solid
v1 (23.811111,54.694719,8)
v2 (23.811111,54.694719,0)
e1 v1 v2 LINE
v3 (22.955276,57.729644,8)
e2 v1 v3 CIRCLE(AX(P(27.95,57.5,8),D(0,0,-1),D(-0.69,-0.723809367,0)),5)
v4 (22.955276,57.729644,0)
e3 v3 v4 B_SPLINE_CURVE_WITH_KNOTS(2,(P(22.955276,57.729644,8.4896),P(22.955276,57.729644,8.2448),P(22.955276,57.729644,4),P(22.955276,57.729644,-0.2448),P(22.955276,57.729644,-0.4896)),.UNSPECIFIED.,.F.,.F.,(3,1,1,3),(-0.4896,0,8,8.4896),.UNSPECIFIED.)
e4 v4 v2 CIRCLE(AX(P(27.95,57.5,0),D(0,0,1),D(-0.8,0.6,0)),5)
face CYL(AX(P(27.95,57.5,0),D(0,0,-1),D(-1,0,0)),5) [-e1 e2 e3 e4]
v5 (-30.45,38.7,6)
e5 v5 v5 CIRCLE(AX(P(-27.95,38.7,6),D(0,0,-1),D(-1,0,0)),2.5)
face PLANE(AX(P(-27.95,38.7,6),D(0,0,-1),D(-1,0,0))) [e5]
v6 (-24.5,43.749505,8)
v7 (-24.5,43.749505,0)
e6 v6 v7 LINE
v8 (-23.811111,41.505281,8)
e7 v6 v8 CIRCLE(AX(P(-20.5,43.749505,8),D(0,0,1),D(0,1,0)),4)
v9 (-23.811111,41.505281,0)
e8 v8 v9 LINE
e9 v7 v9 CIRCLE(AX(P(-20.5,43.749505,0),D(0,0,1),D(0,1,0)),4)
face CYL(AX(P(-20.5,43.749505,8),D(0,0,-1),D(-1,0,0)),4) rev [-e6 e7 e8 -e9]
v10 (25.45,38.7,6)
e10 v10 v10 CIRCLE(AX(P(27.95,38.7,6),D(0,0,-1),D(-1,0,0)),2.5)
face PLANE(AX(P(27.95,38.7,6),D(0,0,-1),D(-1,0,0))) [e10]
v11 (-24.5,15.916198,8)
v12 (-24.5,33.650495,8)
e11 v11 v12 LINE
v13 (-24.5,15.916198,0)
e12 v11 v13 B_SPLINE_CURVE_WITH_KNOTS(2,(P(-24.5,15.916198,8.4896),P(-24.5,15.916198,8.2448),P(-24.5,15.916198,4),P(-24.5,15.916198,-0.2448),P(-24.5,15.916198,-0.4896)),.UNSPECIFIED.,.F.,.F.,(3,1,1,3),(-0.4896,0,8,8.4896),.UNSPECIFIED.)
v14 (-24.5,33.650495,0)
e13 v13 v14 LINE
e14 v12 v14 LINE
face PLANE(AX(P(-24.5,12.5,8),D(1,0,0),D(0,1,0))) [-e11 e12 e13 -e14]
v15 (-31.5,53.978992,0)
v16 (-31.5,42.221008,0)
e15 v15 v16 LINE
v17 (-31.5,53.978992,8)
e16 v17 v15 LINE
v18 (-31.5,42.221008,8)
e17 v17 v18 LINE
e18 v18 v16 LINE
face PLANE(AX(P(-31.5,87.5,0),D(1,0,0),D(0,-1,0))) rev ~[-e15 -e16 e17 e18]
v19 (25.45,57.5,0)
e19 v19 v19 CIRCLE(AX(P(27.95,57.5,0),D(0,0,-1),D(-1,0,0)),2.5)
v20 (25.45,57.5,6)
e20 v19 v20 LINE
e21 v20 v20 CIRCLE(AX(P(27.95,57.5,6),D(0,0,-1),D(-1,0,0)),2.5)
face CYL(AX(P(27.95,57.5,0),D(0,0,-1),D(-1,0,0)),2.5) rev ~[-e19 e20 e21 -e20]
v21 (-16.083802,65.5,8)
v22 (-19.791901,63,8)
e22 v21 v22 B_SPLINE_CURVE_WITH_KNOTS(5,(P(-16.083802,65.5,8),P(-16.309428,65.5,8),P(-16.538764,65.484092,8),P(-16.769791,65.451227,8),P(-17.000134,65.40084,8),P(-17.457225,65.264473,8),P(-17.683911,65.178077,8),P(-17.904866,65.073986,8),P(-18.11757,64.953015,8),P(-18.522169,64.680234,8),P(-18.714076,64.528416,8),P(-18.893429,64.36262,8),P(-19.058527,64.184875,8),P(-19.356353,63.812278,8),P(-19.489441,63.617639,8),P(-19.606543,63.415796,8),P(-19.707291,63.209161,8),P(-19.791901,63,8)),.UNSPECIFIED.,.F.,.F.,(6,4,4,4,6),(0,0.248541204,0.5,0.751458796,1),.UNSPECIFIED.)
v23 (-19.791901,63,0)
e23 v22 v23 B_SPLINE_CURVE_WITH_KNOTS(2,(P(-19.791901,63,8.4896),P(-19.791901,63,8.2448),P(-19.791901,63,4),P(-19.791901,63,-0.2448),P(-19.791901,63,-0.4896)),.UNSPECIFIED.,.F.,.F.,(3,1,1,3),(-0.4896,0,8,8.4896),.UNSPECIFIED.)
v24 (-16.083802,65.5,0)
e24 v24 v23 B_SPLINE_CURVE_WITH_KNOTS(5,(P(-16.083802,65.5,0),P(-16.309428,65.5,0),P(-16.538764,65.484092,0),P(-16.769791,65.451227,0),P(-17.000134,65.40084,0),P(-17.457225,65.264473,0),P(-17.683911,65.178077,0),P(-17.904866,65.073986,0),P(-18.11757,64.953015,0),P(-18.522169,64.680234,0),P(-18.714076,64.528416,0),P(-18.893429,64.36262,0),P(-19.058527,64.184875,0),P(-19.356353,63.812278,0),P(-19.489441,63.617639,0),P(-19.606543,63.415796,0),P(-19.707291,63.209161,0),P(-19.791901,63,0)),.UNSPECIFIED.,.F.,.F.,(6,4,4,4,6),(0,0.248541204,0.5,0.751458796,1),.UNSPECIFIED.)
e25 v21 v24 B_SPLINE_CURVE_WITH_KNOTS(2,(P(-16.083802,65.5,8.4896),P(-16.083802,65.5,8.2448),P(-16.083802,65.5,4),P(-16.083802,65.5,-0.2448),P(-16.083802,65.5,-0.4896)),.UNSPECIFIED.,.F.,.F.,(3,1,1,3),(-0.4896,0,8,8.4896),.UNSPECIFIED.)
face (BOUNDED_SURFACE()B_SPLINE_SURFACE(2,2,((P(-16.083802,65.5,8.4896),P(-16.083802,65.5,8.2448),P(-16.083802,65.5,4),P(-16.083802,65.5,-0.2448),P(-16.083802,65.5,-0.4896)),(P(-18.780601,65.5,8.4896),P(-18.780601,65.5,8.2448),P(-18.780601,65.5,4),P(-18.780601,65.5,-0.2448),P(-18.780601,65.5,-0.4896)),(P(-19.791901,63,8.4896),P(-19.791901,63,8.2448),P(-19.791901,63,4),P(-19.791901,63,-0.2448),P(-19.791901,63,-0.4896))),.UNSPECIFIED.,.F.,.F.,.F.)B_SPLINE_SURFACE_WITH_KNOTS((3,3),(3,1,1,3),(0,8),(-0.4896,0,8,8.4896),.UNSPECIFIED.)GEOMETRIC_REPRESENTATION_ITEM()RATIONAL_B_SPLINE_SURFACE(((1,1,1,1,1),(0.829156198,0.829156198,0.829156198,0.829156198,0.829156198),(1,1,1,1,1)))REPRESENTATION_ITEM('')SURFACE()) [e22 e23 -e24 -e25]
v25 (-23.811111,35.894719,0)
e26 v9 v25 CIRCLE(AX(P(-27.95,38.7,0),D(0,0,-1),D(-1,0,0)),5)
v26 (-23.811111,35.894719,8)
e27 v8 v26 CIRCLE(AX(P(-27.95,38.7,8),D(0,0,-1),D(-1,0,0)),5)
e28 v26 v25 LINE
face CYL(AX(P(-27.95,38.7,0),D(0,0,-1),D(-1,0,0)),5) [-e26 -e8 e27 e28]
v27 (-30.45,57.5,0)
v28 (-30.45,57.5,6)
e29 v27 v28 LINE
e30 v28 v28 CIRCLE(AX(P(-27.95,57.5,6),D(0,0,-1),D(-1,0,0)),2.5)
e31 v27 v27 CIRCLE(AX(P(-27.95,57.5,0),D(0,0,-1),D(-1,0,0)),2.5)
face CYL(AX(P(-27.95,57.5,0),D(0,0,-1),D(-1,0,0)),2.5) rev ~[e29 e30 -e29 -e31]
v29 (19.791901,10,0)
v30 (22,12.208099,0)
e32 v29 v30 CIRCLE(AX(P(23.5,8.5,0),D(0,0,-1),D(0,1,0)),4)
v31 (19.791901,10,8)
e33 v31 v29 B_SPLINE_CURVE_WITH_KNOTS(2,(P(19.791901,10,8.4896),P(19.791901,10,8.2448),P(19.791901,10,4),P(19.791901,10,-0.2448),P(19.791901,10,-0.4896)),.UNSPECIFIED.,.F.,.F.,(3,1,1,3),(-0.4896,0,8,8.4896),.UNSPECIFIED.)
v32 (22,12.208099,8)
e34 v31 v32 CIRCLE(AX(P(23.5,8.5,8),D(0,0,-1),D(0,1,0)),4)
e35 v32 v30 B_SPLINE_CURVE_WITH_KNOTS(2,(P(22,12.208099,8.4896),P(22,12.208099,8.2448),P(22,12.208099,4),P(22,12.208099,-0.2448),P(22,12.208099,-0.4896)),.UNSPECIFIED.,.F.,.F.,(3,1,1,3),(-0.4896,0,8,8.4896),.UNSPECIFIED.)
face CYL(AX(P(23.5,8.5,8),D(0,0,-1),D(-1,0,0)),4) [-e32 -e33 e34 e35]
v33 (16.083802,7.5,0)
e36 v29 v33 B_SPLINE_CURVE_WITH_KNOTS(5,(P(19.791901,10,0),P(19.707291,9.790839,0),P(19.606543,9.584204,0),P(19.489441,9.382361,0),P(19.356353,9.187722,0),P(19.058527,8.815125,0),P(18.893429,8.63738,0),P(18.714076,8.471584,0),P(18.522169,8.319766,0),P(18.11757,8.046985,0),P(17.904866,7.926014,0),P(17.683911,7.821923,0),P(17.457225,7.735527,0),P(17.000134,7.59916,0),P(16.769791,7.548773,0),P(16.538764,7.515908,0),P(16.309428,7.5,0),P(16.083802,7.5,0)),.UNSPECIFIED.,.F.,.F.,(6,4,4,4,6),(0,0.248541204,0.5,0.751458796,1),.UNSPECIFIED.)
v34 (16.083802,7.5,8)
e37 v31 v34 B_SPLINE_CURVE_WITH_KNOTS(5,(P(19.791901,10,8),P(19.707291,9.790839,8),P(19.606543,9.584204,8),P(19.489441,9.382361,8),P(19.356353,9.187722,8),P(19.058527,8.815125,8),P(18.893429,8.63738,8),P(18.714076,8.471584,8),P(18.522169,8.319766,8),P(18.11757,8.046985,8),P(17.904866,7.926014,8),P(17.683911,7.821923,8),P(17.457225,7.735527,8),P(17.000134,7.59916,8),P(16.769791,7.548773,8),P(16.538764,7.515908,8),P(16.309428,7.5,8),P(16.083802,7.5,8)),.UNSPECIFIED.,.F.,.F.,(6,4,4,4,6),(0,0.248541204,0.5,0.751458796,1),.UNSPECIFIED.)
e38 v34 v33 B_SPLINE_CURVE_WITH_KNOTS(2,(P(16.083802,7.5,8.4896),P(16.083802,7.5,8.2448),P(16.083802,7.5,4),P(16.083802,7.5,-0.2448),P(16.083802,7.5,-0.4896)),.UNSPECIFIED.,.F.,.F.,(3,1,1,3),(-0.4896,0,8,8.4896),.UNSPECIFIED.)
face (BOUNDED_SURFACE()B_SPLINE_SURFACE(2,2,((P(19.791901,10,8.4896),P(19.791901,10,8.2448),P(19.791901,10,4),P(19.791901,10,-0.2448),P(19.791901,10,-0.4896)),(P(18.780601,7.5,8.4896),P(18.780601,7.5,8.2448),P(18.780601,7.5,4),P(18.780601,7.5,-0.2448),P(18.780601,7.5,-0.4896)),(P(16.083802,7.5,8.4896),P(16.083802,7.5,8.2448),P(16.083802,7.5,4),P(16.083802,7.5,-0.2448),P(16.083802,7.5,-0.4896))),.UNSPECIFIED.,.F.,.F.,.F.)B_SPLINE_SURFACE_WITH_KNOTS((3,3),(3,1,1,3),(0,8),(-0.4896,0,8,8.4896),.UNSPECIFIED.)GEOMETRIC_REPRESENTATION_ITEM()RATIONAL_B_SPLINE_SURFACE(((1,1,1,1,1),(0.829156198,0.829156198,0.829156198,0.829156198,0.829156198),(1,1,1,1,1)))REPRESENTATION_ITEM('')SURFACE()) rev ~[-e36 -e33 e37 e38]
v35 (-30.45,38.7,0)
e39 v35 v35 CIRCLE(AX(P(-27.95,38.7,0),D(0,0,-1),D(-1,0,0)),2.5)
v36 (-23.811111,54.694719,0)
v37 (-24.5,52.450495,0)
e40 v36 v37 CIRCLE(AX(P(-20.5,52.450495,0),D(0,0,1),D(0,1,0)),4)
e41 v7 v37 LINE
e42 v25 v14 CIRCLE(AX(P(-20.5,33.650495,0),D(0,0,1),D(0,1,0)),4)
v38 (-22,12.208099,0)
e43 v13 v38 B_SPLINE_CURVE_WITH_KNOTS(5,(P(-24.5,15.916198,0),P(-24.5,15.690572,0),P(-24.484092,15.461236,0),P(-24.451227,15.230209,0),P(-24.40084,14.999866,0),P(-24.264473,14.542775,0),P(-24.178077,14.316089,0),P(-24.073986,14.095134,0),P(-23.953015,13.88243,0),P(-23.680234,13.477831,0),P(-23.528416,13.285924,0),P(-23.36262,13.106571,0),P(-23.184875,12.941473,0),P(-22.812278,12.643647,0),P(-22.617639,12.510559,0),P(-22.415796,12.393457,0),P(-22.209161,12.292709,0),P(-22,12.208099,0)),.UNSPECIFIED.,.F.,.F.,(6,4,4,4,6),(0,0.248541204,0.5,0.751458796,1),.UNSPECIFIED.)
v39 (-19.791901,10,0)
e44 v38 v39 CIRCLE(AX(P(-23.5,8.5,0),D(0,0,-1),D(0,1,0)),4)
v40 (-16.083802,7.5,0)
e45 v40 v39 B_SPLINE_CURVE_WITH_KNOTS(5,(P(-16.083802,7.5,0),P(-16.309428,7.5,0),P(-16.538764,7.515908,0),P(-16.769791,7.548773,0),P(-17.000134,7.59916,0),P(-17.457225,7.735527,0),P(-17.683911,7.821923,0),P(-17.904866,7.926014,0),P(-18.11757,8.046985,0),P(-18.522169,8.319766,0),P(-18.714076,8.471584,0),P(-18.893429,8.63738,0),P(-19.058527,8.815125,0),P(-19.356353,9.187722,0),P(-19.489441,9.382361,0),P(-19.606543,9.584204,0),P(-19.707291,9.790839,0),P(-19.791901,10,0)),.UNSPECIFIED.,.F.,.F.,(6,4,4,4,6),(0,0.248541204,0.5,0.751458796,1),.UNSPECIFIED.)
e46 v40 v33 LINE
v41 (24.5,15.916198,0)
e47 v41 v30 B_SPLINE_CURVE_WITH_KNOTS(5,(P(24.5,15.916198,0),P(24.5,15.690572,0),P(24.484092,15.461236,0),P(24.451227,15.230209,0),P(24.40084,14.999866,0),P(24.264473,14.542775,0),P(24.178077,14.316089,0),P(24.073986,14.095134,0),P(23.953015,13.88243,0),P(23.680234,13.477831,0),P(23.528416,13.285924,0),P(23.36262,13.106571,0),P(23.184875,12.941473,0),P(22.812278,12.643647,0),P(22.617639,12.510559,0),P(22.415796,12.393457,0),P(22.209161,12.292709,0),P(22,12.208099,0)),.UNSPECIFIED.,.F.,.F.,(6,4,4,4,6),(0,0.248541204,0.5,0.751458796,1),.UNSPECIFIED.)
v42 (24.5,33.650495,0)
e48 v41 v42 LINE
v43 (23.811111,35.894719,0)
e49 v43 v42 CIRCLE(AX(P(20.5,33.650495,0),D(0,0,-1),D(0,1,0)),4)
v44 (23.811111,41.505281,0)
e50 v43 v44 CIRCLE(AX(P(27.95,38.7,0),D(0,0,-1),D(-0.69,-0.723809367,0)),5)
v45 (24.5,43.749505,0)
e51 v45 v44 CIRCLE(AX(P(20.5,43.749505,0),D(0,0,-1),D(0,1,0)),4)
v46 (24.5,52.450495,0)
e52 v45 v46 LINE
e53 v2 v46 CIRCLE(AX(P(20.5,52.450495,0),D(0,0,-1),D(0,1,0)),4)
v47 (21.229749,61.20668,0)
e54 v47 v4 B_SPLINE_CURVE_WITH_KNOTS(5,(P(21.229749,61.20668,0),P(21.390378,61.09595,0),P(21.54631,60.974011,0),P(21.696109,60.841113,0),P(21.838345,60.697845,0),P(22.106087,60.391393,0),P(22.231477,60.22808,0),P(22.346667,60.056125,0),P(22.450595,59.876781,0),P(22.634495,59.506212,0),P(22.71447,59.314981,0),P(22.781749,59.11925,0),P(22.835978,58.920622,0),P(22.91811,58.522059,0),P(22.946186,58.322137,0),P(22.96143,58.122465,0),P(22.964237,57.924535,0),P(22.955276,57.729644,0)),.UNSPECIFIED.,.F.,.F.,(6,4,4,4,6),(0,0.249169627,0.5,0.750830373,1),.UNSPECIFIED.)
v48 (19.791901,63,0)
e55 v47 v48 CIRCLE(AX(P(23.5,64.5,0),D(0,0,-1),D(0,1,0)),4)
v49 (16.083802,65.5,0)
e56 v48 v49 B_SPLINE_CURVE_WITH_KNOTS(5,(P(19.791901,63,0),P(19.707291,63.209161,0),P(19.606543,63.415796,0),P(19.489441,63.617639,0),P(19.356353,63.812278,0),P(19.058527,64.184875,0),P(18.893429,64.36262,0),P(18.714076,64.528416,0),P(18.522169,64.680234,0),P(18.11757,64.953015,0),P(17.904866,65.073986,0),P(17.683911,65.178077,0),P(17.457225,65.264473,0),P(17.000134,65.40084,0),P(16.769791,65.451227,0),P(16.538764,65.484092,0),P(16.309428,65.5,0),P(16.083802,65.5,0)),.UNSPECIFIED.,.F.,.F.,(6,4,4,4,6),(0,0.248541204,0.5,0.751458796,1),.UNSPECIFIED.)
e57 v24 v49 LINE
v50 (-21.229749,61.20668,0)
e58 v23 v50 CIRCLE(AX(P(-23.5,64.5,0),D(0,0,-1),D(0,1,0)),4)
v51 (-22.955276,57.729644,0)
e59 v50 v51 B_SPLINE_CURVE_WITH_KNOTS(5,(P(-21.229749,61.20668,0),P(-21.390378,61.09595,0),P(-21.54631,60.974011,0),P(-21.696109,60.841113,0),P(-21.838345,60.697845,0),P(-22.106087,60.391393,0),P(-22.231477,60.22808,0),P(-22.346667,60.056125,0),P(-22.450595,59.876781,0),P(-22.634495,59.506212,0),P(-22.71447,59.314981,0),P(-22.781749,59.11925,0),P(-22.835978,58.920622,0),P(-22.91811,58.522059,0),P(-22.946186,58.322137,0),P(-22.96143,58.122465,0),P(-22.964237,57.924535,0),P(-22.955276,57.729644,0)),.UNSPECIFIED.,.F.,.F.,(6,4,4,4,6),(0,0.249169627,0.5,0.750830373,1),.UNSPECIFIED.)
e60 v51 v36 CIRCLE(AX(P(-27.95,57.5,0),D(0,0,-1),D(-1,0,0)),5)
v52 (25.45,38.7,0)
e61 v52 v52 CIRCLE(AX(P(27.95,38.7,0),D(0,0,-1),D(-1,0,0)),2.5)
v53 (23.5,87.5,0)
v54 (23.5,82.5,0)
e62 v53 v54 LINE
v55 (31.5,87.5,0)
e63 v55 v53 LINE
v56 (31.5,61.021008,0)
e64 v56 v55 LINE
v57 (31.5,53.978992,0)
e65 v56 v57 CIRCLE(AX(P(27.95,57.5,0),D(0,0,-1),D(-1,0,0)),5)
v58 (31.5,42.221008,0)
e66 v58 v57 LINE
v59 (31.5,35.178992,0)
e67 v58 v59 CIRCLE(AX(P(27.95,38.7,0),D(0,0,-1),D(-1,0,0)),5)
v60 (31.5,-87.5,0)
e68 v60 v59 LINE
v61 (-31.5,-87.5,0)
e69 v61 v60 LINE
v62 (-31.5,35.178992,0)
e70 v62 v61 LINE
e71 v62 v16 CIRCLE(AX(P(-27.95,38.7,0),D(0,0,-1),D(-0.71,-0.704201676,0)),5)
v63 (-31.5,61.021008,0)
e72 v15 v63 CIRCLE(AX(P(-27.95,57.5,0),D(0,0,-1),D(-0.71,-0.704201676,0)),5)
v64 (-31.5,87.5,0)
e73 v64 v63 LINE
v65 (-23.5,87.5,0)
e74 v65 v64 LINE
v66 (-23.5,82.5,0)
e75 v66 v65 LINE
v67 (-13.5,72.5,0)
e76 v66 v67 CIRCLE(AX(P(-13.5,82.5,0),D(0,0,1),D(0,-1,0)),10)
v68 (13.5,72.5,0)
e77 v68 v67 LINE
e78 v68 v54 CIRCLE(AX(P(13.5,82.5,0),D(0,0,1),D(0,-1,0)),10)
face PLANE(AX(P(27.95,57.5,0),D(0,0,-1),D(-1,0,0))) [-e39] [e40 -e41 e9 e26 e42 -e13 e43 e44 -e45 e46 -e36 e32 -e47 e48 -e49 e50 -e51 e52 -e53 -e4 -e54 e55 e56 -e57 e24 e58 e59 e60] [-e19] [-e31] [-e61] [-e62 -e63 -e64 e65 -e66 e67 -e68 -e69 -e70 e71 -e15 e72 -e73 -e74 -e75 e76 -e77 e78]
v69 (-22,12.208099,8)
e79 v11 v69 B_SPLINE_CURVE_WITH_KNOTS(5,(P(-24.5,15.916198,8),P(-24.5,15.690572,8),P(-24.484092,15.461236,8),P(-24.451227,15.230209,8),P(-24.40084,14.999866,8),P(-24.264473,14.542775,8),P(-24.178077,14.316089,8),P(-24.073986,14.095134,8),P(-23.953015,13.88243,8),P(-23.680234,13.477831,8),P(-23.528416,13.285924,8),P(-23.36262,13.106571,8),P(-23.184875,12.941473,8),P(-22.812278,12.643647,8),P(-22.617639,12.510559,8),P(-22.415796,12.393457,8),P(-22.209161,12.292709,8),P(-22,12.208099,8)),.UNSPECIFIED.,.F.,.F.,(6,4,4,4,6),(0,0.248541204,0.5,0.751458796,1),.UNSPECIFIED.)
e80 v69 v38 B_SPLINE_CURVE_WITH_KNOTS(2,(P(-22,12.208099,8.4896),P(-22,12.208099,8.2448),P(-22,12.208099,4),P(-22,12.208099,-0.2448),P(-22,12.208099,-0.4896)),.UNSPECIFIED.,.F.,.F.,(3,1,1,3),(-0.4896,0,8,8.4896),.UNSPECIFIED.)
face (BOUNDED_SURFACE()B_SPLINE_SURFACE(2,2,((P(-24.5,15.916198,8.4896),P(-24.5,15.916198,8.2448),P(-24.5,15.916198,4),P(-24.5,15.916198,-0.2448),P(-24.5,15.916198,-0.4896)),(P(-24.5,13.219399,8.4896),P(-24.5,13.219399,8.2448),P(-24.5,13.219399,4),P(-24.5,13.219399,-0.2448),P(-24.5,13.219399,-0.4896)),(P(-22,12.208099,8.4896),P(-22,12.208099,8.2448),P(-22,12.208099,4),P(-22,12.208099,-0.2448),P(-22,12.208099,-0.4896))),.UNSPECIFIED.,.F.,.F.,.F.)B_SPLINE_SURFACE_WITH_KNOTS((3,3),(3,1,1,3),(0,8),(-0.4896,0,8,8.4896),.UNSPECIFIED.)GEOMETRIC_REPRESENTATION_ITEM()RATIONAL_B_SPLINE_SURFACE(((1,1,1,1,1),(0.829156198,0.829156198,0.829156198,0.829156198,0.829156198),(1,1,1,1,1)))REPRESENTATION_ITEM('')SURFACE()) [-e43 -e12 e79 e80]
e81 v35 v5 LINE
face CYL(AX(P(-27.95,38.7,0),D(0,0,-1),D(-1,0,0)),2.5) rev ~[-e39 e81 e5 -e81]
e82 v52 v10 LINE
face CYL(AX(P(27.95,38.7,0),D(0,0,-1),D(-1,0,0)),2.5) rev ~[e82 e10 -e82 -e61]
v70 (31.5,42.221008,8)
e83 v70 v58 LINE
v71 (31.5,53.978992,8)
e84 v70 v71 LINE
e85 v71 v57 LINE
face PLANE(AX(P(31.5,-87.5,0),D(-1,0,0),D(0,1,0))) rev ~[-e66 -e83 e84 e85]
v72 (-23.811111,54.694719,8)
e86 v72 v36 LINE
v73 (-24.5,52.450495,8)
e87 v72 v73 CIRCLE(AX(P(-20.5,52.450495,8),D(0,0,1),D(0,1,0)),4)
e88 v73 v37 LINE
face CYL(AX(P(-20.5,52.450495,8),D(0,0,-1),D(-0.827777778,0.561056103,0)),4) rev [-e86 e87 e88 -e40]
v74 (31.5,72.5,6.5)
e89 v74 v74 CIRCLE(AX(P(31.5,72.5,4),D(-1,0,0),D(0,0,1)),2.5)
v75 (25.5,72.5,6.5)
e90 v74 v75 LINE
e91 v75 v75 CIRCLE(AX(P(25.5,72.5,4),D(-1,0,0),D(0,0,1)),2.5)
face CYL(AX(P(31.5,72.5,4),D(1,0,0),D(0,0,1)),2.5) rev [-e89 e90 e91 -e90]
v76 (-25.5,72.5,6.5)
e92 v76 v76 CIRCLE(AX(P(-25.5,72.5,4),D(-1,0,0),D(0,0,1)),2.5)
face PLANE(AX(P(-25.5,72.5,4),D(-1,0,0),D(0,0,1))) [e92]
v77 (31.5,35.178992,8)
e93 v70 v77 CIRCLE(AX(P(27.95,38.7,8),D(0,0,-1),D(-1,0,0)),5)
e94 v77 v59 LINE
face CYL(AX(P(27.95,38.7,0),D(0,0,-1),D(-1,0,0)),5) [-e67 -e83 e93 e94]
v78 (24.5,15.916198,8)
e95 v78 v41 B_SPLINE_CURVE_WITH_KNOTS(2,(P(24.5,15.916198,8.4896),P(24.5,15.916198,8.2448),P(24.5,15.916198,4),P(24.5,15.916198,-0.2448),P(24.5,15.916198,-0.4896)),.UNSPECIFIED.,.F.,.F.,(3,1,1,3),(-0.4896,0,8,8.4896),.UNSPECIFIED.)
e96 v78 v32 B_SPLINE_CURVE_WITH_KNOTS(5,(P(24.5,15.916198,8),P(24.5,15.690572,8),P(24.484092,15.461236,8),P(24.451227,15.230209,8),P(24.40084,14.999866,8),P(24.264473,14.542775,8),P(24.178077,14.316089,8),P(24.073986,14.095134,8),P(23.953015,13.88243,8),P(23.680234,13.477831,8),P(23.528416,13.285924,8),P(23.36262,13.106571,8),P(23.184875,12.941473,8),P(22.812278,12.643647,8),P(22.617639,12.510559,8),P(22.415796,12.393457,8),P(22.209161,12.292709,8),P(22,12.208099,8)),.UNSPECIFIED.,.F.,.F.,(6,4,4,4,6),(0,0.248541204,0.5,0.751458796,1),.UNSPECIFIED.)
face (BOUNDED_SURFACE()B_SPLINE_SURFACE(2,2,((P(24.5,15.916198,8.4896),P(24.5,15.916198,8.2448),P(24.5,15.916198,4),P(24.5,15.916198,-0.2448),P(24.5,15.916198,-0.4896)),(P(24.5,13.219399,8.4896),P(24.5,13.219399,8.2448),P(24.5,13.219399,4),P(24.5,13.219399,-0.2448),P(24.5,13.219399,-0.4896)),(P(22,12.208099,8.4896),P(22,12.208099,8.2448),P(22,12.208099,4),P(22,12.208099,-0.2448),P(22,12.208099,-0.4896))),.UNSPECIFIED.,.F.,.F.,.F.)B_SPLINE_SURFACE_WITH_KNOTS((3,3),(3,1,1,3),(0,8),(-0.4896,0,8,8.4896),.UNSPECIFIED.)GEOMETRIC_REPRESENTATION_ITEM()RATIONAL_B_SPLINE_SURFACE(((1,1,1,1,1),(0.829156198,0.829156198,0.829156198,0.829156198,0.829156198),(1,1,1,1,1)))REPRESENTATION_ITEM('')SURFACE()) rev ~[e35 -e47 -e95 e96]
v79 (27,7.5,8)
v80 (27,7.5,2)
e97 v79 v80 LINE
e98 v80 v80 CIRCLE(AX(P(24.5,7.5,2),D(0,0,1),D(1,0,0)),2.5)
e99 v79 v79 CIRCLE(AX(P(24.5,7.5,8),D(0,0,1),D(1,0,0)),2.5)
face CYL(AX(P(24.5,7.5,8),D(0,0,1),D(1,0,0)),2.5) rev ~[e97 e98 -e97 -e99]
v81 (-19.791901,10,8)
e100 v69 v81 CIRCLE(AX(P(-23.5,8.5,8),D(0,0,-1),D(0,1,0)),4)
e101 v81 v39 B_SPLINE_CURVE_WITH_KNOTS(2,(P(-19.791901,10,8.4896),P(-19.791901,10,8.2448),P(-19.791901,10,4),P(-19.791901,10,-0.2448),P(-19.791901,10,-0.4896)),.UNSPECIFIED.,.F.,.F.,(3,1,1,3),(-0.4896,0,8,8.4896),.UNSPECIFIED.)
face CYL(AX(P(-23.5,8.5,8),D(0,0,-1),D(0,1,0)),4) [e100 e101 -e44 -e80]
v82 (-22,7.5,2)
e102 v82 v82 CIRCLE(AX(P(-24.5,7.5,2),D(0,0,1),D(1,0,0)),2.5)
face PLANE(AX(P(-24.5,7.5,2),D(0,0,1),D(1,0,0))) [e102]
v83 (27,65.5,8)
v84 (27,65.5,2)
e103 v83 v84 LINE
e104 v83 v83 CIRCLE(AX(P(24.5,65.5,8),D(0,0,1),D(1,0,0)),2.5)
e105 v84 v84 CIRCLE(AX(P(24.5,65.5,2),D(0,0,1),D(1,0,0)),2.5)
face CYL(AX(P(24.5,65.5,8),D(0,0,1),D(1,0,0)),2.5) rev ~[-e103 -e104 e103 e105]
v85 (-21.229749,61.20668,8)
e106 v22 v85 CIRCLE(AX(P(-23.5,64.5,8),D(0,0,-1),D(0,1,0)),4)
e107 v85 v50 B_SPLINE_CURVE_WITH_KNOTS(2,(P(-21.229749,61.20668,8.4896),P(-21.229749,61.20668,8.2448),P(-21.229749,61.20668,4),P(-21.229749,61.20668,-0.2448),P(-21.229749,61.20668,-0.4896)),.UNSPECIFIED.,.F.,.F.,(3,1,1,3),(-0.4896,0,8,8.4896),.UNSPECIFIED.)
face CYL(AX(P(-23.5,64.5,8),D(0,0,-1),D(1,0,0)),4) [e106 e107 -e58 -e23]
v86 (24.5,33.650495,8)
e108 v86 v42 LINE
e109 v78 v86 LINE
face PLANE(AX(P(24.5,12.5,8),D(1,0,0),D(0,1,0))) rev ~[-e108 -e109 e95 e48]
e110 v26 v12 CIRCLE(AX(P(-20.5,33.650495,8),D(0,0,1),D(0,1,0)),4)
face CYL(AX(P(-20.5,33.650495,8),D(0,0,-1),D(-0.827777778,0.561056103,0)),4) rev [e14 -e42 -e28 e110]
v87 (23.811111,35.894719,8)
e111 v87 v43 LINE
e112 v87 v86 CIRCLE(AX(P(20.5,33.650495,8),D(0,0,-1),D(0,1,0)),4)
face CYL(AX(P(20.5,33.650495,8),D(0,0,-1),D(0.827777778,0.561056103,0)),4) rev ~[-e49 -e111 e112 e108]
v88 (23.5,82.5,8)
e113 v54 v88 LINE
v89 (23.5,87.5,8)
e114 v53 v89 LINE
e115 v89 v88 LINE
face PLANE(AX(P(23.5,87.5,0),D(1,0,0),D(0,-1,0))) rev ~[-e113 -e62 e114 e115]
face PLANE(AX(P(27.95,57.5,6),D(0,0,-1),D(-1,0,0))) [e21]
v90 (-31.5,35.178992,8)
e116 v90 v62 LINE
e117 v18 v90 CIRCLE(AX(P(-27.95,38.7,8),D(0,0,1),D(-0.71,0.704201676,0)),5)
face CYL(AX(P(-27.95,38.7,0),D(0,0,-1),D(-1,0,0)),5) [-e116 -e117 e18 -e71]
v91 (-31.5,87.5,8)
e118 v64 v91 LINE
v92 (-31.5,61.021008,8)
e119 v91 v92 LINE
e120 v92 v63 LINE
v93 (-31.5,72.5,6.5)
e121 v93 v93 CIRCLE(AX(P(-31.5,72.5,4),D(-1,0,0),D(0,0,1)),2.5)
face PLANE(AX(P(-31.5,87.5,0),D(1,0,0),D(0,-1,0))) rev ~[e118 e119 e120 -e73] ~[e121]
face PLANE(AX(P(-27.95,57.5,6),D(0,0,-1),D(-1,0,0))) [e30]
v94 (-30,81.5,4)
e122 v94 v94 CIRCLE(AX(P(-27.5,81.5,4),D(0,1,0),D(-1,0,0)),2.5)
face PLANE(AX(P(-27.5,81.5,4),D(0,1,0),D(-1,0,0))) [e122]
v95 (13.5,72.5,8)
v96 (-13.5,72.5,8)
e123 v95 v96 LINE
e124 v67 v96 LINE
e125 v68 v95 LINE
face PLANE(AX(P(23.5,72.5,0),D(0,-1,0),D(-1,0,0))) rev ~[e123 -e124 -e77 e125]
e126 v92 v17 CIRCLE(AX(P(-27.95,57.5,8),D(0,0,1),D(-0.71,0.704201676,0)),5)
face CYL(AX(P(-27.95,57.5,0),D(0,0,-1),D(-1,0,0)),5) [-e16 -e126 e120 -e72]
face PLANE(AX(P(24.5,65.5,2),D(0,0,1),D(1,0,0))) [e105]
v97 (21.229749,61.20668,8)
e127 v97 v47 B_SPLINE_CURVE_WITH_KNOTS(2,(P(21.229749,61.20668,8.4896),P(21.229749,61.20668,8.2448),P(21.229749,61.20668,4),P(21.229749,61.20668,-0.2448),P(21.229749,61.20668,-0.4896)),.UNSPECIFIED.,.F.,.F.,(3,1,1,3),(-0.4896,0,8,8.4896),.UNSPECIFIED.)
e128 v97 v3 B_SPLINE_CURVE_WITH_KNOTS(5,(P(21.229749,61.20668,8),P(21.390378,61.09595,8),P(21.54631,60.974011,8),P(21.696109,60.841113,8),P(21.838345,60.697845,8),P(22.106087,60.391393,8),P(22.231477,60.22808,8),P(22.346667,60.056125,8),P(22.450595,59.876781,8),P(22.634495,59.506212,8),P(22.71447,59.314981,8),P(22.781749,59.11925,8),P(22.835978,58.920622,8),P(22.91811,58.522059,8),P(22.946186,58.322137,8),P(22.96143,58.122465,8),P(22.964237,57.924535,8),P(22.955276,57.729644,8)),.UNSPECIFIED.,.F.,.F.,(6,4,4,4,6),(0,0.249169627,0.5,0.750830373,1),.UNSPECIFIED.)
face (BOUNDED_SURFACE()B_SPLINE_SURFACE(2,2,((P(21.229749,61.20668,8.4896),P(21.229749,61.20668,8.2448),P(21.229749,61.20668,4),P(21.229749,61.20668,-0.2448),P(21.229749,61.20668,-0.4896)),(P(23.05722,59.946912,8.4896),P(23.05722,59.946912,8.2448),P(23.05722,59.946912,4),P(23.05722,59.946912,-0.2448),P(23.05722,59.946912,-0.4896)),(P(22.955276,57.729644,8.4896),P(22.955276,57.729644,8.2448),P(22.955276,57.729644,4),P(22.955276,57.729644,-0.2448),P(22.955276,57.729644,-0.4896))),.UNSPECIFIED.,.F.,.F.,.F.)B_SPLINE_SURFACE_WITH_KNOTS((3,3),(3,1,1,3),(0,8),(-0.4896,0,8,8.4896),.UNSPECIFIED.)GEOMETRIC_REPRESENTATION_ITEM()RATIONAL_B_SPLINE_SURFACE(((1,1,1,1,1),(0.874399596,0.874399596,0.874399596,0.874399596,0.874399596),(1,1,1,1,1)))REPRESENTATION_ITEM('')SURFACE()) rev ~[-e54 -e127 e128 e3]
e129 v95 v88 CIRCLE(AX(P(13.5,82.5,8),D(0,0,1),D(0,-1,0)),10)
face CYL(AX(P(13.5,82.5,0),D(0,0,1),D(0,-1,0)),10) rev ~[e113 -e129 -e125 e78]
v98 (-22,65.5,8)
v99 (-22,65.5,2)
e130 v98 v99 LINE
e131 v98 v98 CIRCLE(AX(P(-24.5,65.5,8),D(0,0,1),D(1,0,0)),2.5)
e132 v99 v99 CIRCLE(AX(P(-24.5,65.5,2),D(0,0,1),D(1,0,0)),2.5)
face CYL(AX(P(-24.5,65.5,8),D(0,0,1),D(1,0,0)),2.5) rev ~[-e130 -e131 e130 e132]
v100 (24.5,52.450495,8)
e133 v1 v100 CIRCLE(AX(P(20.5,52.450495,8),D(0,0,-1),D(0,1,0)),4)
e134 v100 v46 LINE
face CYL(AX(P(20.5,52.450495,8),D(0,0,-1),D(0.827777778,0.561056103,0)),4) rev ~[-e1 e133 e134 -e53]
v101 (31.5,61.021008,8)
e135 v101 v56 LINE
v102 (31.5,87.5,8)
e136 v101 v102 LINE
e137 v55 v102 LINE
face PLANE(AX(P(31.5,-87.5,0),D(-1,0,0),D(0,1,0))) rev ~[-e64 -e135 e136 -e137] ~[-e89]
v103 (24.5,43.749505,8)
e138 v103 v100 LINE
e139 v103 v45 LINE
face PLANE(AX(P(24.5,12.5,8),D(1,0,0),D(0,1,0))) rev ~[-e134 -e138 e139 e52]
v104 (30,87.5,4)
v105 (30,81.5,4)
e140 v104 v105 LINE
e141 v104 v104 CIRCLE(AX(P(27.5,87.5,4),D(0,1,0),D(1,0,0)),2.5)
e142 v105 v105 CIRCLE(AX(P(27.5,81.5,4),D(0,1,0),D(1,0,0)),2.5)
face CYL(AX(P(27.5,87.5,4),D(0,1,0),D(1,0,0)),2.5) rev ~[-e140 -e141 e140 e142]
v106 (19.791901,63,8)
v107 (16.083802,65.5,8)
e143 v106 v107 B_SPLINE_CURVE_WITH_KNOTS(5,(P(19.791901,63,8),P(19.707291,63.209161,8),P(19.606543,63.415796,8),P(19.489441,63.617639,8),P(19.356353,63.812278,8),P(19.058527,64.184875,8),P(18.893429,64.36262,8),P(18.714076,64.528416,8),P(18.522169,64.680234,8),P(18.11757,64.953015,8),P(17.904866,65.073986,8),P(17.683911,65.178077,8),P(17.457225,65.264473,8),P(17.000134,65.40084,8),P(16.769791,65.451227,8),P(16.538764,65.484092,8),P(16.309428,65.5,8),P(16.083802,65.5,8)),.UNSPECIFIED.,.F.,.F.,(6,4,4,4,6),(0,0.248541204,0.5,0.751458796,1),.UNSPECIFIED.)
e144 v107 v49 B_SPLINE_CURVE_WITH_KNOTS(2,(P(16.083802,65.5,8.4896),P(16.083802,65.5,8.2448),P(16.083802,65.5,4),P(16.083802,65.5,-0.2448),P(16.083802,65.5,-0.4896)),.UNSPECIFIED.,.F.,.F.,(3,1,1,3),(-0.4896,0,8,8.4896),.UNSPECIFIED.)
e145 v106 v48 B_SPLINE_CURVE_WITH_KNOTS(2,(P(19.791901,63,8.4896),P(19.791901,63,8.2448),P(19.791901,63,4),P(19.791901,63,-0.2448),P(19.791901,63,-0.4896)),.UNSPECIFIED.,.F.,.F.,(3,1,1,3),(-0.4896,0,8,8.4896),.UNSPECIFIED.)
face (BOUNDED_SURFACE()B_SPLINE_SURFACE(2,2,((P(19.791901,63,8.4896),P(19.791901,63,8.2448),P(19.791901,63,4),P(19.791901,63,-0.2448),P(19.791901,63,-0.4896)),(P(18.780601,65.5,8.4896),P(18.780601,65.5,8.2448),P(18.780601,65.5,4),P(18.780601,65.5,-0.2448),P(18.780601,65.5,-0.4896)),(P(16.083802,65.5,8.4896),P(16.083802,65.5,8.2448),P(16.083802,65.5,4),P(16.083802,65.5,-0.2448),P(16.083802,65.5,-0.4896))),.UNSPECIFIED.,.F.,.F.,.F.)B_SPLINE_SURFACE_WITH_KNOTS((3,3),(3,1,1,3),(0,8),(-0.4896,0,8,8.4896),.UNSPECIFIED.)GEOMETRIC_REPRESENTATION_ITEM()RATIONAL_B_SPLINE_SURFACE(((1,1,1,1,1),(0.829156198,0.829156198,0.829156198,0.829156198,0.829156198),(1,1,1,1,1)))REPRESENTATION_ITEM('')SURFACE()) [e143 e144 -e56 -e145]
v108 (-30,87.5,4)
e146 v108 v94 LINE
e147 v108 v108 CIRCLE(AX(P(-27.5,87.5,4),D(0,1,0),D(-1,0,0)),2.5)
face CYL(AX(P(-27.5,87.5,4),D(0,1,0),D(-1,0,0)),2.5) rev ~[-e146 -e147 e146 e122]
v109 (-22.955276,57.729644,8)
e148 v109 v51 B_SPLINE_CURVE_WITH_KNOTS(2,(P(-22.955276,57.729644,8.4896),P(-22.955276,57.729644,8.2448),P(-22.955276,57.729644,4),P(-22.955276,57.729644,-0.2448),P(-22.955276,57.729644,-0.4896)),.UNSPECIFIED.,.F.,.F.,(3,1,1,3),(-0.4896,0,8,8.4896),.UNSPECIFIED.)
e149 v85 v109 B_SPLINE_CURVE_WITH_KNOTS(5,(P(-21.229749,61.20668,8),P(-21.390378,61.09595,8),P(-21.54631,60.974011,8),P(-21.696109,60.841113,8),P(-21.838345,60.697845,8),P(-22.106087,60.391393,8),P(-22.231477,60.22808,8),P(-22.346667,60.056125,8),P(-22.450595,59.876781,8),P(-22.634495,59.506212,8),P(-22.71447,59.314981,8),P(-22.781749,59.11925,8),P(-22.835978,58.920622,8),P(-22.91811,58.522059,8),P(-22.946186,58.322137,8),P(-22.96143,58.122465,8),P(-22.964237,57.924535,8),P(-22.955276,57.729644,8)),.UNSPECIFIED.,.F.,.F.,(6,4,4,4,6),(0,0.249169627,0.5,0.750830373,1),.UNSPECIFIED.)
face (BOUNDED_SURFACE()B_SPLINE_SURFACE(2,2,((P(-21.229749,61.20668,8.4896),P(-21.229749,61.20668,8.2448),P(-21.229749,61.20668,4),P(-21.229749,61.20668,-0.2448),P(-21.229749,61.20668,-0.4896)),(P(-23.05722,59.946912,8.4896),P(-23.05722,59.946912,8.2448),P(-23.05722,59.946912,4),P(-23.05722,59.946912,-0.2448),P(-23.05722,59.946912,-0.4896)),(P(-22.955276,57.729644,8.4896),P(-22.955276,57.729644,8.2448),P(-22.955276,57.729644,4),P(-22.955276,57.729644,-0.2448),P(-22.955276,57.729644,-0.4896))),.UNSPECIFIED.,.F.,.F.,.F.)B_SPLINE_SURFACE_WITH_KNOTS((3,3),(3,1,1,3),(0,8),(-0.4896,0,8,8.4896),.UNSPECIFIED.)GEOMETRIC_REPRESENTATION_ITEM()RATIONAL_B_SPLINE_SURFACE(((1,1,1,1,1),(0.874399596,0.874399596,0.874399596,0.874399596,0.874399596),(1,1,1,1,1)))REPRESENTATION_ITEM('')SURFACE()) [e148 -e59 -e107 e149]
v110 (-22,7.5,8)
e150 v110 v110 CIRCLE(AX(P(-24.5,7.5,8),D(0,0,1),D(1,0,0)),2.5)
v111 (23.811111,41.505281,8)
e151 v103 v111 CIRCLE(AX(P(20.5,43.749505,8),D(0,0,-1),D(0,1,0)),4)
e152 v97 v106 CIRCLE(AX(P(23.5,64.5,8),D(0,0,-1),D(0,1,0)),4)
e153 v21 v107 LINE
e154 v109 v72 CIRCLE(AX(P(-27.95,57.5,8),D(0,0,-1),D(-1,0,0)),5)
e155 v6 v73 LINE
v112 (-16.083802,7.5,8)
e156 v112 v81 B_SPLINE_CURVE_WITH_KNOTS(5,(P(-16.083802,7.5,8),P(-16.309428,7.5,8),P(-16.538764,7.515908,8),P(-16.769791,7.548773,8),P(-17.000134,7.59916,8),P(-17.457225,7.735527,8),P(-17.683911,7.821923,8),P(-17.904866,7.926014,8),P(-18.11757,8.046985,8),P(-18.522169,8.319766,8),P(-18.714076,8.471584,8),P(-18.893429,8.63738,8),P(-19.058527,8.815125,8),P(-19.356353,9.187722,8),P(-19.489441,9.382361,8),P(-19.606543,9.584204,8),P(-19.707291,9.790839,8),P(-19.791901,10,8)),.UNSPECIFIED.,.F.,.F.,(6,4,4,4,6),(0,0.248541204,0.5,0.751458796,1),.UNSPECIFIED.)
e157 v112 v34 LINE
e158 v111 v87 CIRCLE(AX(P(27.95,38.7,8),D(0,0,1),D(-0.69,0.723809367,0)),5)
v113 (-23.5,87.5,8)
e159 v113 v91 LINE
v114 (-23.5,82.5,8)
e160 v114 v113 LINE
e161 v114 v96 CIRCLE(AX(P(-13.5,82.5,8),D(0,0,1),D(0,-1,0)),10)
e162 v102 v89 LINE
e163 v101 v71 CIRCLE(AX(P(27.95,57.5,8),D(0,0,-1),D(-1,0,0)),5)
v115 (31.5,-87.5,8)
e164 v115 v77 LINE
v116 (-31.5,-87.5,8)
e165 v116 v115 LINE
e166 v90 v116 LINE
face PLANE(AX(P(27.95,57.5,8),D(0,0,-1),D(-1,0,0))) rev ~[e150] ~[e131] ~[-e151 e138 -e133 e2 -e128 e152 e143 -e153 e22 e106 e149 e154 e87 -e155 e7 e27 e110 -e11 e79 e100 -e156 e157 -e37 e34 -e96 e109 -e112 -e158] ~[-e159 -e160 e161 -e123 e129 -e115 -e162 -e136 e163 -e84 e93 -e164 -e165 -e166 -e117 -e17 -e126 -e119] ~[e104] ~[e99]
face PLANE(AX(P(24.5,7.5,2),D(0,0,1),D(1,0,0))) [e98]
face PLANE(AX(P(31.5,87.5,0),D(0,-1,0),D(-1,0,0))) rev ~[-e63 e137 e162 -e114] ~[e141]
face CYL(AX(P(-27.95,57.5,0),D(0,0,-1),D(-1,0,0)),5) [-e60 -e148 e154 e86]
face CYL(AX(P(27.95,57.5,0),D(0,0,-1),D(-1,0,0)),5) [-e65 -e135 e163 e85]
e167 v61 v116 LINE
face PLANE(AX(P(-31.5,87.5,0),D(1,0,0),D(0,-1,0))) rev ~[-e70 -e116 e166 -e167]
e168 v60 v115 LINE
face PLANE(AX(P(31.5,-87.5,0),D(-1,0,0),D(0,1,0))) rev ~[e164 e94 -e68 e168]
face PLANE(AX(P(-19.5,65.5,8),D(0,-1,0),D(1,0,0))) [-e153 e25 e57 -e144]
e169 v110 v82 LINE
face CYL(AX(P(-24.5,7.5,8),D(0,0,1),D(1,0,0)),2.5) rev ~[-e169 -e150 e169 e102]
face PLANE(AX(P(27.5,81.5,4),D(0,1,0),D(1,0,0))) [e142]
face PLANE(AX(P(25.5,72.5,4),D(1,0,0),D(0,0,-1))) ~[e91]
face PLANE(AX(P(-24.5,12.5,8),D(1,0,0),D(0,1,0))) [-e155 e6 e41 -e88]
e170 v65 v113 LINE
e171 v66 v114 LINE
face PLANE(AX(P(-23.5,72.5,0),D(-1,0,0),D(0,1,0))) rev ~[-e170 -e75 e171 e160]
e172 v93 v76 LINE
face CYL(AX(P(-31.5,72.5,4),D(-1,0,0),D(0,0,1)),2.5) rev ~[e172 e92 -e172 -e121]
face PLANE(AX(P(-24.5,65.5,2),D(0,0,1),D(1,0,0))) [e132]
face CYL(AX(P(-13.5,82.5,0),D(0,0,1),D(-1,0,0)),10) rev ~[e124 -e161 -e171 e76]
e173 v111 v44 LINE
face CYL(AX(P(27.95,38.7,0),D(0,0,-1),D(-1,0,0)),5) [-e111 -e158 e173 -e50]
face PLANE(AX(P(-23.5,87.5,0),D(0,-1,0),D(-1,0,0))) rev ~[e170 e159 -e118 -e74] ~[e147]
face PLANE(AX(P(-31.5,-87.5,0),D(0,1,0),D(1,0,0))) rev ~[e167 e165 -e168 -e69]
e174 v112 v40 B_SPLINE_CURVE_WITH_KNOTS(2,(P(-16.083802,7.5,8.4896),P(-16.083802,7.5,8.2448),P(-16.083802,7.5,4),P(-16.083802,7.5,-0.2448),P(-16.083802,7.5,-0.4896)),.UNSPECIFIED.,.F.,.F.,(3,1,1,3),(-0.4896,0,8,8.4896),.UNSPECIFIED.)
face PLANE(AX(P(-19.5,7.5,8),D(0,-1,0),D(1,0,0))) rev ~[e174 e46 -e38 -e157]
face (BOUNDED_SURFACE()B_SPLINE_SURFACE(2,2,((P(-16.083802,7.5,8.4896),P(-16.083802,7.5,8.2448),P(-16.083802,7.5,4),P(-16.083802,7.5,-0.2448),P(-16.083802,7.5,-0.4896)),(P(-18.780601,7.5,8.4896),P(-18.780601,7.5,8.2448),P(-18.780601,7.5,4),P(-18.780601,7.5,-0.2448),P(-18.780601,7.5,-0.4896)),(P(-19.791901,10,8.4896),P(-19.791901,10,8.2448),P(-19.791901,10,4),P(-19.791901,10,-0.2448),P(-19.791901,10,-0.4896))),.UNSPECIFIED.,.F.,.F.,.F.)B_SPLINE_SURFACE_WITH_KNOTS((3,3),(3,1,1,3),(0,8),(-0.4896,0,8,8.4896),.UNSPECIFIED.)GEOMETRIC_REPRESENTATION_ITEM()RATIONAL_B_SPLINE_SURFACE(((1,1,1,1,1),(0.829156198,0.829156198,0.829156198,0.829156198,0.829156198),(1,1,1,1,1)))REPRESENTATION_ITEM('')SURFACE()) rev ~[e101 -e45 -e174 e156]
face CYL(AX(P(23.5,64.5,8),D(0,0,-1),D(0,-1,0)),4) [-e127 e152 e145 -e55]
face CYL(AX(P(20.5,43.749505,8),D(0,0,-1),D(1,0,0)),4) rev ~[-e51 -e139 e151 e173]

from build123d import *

# Parameters (mm, degrees)
EXTRUDE_1_DEPTH     = 8
SKETCH_2_R          = 2.5
CUT_EXTRUDE_1_DEPTH = 6
SKETCH_3_R          = 2.5
CUT_EXTRUDE_2_DEPTH = 6
FILLET_1_R          = 10
SKETCH_4_W          = 39
SKETCH_4_H          = 48
SKETCH_4_W_2        = 5
SKETCH_4_H_2        = 5
CUT_EXTRUDE_3_DEPTH = 21
SKETCH_5_R          = 5
EXTRUDE_2_DEPTH     = 8
FILLET_2_R          = 4
FILLET_3_R          = 4
SKETCH_6_R          = 2.5
CUT_EXTRUDE_4_DEPTH = 6
SKETCH_7_R          = 2.5
CUT_EXTRUDE_5_DEPTH = 6


with BuildPart() as part:
    # Эскиз1 → Бобышка-Вытянуть1 (new body)
    with BuildSketch(Plane.XY):
        Polygon((-23.5, 72.5), (-23.5, 87.5), (-31.5, 87.5), (-31.5, -87.5), (31.5, -87.5), (31.5, 87.5), (23.5, 87.5), (23.5, 72.5), align=None)
    extrude(amount=EXTRUDE_1_DEPTH)

    # Эскиз2 → Вырез-Вытянуть1 (cut)
    with BuildSketch(Plane(origin=(0, 87.5, 0), x_dir=(1, 0, 0), z_dir=(0, 1, 0))):
        with Locations(Location((-27.5, -4, 0), (0, 0, 180))):
            Circle(SKETCH_2_R)
        with Locations((27.5, -4)):
            Circle(SKETCH_2_R)
    extrude(amount=-CUT_EXTRUDE_1_DEPTH, mode=Mode.SUBTRACT)

    # Эскиз3 → Вырез-Вытянуть2 (cut)
    with BuildSketch(Plane.XY.offset(8)):
        with Locations((-24.5, 65.5)):
            Circle(SKETCH_3_R)
        with Locations((24.5, 65.5)):
            Circle(SKETCH_3_R)
        with Locations((24.5, 7.5)):
            Circle(SKETCH_3_R)
        with Locations((-24.5, 7.5)):
            Circle(SKETCH_3_R)
    extrude(amount=-CUT_EXTRUDE_2_DEPTH, mode=Mode.SUBTRACT)

    # Скругление1
    fillet_1_edges = [part.edges().sort_by_distance(p)[0] for p in [
        (-23.5, 72.5, 4),
        (23.5, 72.5, 4),
    ]]
    fillet(fillet_1_edges, radius=FILLET_1_R)

    # Эскиз4 → Вырез-Вытянуть3 (cut)
    with BuildSketch(Plane.XY.offset(8)):
        with Locations((0, 36.5)):
            Rectangle(SKETCH_4_W, SKETCH_4_H)
        with Locations((-22, 36.5)):
            Rectangle(SKETCH_4_W_2, SKETCH_4_H)
        with Locations((0, 63)):
            Rectangle(SKETCH_4_W, SKETCH_4_H_2)
        with Locations((22, 36.5)):
            Rectangle(SKETCH_4_W_2, SKETCH_4_H)
        with Locations((0, 10)):
            Rectangle(SKETCH_4_W, SKETCH_4_H_2)
    extrude(amount=-CUT_EXTRUDE_3_DEPTH, mode=Mode.SUBTRACT)

    # Эскиз5 → Бобышка-Вытянуть2 (add)
    with BuildSketch(Plane(origin=(0, 0, 0), x_dir=(-1, 0, 0), z_dir=(0, 0, -1))):
        with Locations((-27.95, 57.5)):
            Circle(SKETCH_5_R)
        with Locations((-27.95, 38.7)):
            Circle(SKETCH_5_R)
        with Locations((27.95, 38.7)):
            Circle(SKETCH_5_R)
        with Locations((27.95, 57.5)):
            Circle(SKETCH_5_R)
    extrude(amount=-EXTRUDE_2_DEPTH)

    # Скругление2
    fillet_2_edges = [part.edges().sort_by_distance(p)[0] for p in [
        (-19.5, 12.5, 4),
        (-19.5, 60.5, 4),
        (19.5, 60.5, 4),
        (19.5, 12.5, 4),
    ]]
    fillet(fillet_2_edges, radius=FILLET_2_R)

    # Скругление3
    fillet_3_edges = [part.edges().sort_by_distance(p)[0] for p in [
        (-24.5, 42.319046836, 4),
        (-24.5, 35.080953164, 4),
        (-24.5, 53.880953164, 4),
        (-23.95, 60.5, 4),
        (-19.5, 65.5, 4),
        (24.5, 42.319046836, 4),
        (24.5, 35.080953164, 4),
        (24.5, 53.880953164, 4),
        (19.5, 65.5, 4),
        (23.95, 60.5, 4),
        (24.5, 12.5, 4),
        (19.5, 7.5, 4),
        (-19.5, 7.5, 4),
        (-24.5, 12.5, 4),
    ]]
    fillet(fillet_3_edges, radius=FILLET_3_R)

    # Эскиз6 → Вырез-Вытянуть4 (cut)
    with BuildSketch(Plane(origin=(0, 0, 0), x_dir=(-1, 0, 0), z_dir=(0, 0, -1))):
        with Locations((-27.95, 57.5)):
            Circle(SKETCH_6_R)
        with Locations((27.95, 57.5)):
            Circle(SKETCH_6_R)
        with Locations((27.95, 38.7)):
            Circle(SKETCH_6_R)
        with Locations((-27.95, 38.7)):
            Circle(SKETCH_6_R)
    extrude(amount=-CUT_EXTRUDE_4_DEPTH, mode=Mode.SUBTRACT)

    # Эскиз7 → Вырез-Вытянуть5 (cut)
    with BuildSketch(Plane.ZY.offset(31.5)):
        with Locations((4, 72.5)):
            Circle(SKETCH_7_R)
    cut_extrude_5 = extrude(amount=-CUT_EXTRUDE_5_DEPTH, mode=Mode.SUBTRACT)

    # Зеркальное отражение1: Вырез-Вытянуть5 across plane
    add(cut_extrude_5.mirror(Plane(origin=(0, 0, 0), x_dir=(0, 0, 1), z_dir=(1, 0, 0))), mode=Mode.SUBTRACT)


solid = part.part
